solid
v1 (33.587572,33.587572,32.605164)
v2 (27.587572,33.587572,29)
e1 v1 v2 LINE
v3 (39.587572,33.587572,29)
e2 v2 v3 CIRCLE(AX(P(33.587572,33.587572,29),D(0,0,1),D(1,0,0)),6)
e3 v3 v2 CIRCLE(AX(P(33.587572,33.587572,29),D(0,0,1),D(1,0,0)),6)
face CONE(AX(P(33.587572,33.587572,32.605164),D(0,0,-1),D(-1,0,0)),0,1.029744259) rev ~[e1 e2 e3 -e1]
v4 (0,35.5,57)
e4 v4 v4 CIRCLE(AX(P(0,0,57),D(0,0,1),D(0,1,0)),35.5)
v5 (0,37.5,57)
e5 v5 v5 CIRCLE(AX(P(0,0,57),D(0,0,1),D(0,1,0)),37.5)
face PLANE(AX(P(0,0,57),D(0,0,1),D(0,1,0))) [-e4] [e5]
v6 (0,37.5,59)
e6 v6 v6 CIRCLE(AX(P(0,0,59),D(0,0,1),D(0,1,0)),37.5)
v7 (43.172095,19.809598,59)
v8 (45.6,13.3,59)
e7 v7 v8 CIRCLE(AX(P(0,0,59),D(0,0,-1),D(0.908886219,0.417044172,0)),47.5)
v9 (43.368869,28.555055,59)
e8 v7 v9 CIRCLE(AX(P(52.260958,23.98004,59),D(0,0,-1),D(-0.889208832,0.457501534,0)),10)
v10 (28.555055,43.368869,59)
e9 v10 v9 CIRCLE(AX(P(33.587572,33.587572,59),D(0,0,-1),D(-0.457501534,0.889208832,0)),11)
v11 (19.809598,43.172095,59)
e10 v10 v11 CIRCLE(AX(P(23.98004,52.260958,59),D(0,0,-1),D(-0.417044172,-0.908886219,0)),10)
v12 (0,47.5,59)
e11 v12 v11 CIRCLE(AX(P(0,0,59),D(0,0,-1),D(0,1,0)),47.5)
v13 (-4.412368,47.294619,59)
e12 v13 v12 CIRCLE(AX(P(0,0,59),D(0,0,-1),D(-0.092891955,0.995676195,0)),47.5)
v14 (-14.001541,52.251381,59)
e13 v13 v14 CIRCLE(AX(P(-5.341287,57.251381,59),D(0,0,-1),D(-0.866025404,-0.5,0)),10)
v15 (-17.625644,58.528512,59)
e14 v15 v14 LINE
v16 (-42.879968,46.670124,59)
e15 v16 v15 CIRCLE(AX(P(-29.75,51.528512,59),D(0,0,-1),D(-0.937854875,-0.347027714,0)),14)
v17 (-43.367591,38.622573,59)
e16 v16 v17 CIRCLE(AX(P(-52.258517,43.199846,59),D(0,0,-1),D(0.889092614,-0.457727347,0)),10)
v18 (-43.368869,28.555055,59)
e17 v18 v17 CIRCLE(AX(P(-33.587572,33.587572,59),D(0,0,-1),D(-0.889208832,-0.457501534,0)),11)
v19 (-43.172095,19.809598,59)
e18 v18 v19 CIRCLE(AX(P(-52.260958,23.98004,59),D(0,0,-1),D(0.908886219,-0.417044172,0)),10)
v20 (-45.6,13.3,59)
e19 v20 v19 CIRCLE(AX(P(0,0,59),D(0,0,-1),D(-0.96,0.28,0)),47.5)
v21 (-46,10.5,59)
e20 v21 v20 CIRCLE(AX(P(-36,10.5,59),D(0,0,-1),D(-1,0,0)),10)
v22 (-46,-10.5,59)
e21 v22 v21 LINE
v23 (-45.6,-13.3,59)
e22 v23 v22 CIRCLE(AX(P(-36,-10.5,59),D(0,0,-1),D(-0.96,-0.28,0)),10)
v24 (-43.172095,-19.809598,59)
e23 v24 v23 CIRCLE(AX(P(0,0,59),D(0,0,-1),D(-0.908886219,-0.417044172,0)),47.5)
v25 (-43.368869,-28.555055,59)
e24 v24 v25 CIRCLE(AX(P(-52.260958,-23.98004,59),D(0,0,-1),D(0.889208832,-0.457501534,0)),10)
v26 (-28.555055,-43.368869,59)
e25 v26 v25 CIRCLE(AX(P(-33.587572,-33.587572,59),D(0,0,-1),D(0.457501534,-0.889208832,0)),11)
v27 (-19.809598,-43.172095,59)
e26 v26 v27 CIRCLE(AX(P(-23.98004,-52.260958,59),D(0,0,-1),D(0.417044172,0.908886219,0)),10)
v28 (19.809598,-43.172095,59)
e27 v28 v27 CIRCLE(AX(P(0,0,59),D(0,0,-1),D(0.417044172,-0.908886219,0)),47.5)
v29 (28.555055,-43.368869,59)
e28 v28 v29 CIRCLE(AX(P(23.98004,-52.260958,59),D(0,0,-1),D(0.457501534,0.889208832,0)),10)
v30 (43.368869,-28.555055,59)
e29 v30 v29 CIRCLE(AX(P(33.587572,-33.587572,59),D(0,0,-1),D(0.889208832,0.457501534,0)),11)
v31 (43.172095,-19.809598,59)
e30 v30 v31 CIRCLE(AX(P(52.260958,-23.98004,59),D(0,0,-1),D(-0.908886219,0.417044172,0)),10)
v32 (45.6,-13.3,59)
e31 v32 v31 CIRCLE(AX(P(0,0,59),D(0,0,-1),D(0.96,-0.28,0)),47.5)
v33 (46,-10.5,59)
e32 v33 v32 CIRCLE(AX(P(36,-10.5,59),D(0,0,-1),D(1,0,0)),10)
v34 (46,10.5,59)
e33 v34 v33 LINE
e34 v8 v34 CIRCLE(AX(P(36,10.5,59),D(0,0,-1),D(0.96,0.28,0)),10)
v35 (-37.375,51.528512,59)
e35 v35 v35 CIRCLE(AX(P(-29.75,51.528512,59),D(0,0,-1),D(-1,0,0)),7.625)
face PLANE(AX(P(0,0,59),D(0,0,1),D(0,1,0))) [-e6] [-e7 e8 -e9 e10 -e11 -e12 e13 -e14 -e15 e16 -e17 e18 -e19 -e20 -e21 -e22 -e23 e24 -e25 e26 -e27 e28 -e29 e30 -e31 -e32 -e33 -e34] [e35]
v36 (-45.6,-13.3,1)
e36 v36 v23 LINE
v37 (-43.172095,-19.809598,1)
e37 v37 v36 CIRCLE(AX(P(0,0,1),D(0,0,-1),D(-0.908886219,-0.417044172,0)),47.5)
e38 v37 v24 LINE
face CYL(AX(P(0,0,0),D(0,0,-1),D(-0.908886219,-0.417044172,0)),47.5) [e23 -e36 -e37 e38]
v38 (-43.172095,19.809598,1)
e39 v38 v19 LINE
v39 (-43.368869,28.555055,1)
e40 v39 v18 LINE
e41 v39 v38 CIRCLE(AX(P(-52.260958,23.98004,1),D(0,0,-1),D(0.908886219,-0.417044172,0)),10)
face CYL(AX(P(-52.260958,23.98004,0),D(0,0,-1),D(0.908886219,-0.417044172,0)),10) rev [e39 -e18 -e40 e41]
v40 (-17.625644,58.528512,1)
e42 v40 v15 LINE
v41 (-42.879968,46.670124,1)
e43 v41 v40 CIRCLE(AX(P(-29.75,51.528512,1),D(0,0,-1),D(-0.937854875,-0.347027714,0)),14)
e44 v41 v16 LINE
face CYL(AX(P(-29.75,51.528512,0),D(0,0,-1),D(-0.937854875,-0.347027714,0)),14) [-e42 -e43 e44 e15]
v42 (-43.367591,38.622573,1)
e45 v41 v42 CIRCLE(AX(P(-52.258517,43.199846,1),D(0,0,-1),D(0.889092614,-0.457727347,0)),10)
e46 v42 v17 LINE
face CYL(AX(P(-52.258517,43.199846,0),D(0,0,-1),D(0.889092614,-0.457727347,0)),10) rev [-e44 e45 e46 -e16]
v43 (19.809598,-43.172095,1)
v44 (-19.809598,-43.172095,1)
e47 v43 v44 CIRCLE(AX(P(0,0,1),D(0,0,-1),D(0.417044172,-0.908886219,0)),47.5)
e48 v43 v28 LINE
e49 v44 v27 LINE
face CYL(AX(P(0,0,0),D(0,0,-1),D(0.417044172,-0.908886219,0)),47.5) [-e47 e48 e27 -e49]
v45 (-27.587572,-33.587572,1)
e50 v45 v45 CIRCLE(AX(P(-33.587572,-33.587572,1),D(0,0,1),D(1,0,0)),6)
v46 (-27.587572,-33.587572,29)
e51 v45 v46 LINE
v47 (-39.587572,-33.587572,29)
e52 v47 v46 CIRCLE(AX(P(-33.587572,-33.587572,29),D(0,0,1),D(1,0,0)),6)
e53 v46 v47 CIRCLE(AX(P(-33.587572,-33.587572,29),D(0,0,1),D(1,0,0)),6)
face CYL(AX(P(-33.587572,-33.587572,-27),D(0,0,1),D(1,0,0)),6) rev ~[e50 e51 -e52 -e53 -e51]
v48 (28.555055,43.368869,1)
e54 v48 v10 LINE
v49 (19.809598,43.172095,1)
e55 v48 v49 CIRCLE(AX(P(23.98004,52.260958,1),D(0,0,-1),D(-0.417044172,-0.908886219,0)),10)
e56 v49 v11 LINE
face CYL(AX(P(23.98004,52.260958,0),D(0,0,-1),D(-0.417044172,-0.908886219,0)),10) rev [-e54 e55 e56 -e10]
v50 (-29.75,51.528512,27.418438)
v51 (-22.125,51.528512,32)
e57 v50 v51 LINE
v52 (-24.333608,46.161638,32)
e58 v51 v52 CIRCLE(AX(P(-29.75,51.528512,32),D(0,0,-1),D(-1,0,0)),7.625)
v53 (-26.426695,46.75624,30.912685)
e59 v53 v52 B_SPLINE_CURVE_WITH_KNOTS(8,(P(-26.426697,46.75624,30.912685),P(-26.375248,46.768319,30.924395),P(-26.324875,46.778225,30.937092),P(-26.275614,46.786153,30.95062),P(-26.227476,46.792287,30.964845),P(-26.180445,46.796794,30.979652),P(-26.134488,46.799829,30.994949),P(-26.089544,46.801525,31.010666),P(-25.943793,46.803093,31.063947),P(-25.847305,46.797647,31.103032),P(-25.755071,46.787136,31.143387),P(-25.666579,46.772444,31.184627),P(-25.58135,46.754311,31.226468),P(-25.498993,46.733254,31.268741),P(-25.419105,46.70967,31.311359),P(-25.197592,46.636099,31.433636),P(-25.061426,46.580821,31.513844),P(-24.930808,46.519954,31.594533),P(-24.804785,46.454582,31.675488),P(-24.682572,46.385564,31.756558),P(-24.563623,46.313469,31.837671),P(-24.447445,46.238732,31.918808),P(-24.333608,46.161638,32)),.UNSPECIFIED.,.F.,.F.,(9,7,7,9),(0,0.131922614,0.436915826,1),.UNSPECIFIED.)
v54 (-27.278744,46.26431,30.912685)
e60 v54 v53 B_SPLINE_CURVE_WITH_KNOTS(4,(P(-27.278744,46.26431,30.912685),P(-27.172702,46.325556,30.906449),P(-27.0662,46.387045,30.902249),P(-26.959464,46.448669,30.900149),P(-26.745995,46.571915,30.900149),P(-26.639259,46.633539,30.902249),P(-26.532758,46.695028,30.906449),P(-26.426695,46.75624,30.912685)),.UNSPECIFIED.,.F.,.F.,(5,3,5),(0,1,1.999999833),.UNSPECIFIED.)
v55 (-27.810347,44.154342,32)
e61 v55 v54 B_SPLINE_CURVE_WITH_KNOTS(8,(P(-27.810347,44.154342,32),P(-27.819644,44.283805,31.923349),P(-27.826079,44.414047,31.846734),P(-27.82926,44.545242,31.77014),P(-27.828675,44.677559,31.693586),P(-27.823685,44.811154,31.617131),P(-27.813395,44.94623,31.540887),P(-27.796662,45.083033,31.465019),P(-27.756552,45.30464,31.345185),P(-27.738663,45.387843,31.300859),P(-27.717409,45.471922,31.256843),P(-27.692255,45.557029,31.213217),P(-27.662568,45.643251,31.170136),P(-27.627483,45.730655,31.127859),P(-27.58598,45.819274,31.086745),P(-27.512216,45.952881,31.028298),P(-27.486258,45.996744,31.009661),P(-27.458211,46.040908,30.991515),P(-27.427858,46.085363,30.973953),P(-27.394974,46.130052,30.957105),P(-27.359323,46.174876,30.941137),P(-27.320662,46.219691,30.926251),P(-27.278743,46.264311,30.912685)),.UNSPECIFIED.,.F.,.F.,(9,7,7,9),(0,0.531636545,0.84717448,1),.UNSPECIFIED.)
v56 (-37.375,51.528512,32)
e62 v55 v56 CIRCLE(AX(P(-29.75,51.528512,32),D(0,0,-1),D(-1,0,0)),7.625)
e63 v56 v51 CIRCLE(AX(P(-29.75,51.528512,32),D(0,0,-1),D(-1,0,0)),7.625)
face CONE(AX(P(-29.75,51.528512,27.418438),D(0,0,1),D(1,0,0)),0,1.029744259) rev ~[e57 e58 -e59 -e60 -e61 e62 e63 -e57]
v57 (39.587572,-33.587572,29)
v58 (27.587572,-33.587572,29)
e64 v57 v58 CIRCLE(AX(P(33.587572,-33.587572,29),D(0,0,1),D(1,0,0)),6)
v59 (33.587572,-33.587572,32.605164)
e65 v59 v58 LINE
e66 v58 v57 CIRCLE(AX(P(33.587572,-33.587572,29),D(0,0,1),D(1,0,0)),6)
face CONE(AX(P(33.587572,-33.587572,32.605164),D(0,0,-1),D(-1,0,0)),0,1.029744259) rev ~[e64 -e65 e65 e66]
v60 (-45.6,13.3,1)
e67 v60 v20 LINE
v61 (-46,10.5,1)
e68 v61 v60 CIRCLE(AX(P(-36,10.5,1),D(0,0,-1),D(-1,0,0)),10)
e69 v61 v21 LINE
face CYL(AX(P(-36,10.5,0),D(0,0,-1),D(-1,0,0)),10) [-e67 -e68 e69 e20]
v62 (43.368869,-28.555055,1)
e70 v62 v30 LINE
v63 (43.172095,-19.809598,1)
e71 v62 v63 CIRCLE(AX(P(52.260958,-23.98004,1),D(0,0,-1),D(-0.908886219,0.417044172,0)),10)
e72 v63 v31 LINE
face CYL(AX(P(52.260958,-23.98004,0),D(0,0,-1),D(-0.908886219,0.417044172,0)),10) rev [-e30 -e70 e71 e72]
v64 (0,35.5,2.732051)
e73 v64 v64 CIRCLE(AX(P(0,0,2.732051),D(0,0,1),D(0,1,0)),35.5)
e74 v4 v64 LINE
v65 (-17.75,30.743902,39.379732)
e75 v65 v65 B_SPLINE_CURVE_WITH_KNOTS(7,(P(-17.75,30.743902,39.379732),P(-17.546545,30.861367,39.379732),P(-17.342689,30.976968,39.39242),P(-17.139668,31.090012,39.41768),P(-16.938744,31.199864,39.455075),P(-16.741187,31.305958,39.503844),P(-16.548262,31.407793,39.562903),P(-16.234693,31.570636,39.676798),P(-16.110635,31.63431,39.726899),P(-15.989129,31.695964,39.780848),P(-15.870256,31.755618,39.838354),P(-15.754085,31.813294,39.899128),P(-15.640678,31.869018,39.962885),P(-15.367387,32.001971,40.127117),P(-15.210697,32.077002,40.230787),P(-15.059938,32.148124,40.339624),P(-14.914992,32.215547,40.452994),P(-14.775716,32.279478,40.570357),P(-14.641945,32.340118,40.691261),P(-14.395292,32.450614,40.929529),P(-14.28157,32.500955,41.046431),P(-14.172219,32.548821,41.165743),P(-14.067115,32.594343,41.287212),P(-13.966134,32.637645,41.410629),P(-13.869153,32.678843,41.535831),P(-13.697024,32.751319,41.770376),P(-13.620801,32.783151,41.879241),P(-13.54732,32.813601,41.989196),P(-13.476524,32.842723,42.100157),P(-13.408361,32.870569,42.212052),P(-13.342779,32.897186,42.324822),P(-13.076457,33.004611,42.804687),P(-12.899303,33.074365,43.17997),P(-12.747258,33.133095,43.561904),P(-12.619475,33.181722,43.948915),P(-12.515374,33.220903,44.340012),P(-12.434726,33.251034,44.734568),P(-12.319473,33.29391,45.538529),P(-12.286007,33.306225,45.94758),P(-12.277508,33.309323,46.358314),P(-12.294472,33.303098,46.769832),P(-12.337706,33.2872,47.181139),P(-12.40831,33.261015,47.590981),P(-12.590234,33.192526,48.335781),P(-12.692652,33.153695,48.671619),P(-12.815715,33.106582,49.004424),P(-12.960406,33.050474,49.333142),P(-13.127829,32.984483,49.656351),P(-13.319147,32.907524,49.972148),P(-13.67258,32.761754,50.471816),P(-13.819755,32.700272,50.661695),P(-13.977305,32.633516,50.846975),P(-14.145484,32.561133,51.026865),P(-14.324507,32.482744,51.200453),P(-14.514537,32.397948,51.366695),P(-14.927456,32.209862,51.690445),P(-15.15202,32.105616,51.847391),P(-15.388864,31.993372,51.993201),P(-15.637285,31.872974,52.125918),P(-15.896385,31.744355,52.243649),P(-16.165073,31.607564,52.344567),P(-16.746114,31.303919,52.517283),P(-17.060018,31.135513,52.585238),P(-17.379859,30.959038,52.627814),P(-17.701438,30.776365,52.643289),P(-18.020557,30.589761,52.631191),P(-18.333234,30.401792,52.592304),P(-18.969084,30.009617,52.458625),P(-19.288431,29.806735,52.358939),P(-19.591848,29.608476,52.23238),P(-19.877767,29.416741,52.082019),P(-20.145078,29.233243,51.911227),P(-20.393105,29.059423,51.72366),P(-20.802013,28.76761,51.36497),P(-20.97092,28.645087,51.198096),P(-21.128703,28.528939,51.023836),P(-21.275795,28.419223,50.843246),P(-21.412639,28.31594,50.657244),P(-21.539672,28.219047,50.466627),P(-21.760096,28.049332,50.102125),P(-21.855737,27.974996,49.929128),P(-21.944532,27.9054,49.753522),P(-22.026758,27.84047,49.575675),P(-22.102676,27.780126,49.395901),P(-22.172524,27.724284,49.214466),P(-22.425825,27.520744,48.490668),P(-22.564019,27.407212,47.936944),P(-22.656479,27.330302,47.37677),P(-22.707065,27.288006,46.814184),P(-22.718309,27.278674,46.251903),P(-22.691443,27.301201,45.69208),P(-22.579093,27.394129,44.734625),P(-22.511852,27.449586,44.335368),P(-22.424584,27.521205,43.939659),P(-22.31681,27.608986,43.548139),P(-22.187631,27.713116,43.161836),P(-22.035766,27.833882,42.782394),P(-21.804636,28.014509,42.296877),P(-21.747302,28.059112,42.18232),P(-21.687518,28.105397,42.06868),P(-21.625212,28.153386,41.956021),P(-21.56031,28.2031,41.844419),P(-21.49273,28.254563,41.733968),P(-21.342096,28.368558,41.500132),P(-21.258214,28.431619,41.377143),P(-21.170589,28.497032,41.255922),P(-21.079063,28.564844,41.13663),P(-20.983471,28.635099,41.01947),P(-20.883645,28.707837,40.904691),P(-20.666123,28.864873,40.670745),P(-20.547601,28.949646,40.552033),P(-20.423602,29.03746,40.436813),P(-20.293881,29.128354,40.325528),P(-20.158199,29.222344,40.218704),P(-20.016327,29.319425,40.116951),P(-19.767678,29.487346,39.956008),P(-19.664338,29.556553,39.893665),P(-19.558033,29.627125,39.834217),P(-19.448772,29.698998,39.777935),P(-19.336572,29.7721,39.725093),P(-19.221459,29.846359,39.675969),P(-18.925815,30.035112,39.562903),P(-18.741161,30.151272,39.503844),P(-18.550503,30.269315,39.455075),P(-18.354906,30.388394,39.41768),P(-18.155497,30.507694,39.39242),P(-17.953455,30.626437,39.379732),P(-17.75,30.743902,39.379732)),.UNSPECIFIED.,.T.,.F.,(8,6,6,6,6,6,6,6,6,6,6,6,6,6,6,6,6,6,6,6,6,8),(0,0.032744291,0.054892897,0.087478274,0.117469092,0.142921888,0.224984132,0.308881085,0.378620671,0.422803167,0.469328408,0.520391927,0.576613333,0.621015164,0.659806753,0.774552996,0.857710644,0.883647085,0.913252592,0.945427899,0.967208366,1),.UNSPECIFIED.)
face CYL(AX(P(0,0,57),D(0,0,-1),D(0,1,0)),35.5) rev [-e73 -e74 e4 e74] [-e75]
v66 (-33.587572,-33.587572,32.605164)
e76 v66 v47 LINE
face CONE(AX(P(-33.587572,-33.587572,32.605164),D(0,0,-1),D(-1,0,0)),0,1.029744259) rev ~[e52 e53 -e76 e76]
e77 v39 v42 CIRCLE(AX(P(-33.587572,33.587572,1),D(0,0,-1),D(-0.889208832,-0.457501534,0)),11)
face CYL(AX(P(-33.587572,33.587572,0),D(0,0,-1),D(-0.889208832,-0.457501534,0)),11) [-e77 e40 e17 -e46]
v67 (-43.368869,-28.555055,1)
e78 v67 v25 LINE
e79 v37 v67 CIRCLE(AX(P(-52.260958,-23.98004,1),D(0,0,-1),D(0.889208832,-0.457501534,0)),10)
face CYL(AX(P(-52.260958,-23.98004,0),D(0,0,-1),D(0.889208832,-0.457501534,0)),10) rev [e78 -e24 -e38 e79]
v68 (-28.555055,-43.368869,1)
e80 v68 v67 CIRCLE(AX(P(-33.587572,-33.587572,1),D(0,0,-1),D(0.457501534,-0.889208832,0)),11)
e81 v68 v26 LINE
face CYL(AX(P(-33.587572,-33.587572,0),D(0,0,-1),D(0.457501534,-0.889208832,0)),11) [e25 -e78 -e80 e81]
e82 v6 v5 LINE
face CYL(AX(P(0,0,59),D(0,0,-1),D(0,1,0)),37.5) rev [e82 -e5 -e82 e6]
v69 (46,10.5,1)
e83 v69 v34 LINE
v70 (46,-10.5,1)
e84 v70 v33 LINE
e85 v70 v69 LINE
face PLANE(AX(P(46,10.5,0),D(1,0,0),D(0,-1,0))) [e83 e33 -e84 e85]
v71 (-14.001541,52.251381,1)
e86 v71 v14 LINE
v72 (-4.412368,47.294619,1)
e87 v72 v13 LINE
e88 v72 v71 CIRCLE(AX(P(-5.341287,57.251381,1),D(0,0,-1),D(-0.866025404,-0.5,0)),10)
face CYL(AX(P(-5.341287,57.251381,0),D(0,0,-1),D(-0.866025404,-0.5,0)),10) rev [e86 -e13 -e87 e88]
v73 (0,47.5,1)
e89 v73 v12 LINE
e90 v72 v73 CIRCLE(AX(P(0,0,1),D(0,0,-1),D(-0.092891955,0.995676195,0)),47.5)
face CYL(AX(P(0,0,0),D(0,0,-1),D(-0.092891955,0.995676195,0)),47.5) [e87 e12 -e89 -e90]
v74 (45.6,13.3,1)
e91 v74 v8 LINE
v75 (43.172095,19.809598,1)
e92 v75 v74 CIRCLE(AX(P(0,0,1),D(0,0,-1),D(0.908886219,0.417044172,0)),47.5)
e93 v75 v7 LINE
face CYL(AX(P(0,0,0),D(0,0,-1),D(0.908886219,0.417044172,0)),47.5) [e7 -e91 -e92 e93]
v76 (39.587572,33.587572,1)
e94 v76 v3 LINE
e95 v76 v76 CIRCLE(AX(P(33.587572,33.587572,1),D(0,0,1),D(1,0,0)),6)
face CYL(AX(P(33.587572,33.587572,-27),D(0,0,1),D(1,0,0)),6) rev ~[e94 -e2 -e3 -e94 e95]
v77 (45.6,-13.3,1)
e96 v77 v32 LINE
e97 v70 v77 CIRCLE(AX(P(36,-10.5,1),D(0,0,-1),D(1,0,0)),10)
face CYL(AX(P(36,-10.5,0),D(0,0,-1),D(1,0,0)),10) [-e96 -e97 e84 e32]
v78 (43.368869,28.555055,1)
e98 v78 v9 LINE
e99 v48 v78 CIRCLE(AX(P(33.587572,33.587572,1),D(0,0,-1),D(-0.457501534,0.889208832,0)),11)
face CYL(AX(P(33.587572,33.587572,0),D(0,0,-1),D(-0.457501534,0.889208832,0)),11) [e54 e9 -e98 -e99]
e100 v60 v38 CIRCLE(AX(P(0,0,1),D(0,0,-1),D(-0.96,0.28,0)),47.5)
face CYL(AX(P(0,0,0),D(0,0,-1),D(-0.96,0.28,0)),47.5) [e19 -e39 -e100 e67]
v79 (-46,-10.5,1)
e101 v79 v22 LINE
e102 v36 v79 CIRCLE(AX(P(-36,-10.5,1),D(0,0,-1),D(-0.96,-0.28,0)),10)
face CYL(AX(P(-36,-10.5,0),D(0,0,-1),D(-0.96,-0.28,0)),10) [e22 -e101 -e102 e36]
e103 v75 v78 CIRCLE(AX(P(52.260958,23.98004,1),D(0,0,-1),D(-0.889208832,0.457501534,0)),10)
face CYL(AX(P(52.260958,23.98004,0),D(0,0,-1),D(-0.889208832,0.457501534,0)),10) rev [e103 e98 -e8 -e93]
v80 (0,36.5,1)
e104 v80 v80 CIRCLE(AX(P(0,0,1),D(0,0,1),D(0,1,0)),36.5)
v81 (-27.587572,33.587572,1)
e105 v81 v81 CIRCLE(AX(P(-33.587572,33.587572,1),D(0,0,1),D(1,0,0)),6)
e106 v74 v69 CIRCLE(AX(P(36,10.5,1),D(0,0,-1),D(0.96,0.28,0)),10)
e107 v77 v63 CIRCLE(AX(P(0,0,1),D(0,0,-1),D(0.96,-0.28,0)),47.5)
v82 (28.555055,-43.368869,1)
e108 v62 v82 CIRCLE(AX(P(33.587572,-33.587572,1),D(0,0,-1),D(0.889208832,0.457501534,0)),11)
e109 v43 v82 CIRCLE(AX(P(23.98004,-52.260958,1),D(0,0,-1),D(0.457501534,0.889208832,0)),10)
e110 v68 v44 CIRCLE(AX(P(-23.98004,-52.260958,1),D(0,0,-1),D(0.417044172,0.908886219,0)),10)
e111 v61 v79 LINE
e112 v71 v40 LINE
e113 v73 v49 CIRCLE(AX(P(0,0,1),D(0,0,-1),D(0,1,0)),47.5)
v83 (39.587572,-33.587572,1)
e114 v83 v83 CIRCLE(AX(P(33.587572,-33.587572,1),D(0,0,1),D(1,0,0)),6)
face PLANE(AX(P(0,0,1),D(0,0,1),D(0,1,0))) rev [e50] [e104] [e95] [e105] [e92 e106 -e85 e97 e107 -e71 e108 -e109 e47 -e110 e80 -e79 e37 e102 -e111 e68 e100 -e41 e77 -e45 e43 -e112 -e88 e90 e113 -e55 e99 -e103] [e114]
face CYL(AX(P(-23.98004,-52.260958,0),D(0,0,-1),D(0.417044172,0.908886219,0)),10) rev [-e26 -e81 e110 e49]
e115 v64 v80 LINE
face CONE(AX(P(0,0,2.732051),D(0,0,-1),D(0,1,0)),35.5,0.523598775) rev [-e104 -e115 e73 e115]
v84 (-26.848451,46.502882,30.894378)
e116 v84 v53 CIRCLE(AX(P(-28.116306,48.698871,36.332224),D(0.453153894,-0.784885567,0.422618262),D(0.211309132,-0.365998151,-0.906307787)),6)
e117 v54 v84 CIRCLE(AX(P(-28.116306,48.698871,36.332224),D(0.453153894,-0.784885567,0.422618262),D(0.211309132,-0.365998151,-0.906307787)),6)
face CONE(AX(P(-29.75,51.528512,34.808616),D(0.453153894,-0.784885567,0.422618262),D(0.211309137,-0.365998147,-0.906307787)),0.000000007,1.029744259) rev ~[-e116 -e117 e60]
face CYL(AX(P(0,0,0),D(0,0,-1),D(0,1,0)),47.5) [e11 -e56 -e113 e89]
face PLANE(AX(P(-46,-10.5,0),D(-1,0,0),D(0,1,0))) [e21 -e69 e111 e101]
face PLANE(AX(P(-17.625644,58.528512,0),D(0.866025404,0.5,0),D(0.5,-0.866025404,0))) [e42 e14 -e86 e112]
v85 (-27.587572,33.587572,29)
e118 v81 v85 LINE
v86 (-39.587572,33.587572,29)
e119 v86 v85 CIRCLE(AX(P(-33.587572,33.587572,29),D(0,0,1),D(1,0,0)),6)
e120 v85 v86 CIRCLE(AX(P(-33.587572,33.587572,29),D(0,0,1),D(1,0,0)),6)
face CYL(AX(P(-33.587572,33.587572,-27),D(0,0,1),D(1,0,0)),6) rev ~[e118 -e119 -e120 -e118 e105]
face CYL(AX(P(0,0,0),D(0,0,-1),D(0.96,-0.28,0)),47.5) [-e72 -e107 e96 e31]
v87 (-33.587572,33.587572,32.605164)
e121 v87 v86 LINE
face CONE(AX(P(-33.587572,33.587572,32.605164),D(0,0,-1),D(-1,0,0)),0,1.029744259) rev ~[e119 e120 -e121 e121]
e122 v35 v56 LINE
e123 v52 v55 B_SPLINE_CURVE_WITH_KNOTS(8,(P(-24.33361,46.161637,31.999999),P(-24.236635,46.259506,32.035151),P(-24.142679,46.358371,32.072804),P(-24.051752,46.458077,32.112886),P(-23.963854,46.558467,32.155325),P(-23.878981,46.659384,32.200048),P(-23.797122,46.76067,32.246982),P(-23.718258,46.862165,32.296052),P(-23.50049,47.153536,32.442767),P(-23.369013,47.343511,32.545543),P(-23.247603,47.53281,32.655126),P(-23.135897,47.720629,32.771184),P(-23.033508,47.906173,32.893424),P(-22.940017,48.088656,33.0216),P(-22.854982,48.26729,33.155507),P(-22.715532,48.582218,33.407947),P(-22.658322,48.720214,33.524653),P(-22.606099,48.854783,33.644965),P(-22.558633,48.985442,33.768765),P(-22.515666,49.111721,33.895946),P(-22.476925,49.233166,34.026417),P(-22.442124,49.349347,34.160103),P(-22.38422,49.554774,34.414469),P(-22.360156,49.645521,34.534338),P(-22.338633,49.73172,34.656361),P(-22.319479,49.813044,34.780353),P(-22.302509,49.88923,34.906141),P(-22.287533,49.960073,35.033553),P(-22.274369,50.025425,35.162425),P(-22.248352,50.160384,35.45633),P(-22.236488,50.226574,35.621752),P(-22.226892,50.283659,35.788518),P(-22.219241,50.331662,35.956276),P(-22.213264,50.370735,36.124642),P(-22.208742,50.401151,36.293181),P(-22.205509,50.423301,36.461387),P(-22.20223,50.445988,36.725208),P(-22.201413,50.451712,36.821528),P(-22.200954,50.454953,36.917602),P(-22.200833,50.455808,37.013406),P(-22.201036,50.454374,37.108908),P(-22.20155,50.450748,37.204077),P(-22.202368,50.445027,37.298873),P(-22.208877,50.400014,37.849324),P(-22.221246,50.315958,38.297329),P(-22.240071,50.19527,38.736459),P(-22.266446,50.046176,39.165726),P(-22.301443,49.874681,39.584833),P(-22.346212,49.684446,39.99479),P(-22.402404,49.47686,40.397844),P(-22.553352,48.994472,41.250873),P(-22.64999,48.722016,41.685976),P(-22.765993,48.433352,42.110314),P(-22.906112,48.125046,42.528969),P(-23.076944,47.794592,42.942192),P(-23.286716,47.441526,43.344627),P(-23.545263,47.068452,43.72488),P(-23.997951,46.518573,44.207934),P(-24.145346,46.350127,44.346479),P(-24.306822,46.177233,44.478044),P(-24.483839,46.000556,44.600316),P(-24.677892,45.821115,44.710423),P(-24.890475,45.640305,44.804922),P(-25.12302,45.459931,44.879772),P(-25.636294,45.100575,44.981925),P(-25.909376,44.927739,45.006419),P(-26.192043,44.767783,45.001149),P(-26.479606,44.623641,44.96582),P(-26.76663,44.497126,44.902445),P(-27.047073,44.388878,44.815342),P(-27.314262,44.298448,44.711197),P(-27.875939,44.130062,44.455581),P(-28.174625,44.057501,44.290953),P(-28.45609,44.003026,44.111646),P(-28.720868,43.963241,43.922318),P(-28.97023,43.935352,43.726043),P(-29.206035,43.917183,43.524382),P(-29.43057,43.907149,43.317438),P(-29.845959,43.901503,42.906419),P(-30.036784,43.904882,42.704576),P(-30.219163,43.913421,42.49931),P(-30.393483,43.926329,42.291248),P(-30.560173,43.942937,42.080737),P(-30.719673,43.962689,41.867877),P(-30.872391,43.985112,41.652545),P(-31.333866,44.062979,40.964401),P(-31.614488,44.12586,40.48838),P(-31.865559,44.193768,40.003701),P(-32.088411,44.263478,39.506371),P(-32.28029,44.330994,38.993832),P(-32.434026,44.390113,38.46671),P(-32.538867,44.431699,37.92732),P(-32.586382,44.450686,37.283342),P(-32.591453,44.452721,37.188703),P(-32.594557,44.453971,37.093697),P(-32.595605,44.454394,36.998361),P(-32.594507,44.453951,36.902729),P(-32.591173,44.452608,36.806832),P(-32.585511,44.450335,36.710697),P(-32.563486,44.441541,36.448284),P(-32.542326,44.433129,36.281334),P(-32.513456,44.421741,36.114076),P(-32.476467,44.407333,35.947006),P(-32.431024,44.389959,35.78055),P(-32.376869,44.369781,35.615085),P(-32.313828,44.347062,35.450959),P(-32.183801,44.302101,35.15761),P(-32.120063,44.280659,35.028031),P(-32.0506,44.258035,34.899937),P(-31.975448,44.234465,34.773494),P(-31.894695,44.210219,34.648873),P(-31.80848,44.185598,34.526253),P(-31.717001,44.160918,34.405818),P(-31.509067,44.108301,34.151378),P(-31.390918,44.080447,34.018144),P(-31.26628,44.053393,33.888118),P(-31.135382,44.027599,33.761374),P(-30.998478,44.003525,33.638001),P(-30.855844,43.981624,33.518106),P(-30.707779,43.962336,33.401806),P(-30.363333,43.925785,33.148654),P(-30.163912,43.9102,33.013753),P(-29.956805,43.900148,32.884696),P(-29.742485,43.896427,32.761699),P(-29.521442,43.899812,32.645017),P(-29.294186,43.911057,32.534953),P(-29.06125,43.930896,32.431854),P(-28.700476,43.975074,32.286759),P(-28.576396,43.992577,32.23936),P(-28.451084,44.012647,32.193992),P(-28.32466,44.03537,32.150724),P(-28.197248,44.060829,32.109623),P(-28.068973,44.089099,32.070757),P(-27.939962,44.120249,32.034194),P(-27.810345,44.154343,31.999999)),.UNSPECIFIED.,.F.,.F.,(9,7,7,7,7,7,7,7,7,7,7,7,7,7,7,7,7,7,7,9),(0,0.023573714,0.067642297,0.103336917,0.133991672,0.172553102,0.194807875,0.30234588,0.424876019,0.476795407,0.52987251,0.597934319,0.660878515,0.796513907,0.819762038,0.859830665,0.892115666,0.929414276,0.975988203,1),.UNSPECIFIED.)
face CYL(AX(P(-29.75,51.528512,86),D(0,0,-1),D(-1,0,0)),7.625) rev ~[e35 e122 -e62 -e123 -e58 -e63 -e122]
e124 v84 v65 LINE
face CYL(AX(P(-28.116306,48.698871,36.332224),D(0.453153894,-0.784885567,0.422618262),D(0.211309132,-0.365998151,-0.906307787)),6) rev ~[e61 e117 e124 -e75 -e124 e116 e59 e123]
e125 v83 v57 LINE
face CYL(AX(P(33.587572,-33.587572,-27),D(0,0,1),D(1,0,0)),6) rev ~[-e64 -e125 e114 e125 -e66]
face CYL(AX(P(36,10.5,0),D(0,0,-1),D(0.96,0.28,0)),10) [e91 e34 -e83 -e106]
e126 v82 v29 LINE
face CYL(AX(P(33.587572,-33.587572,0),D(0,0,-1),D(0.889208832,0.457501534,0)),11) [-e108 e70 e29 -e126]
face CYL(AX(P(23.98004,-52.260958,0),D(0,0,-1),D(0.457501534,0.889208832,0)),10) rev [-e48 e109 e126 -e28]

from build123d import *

# Parameters (mm, degrees)
SKETCH1_R              = 31.5
BASE_EXTRUDE_DEPTH     = 60
F_4_STK_M14_D          = 12
F_4_STK_M14_DEPTH      = 28
F_4_STK_M14_TIP        = 3.605163714
F_3_8_RG_OLIEHUL_D     = 15.25
F_3_8_RG_OLIEHUL_DEPTH = 27
F_3_8_RG_OLIEHUL_TIP   = 4.58156222


with BuildPart() as part:
    # Sketch1 → Base-Extrude (new body)
    with BuildSketch(Plane.XY):
        with BuildLine():
            Line((46, 10.5), (46, -10.5))
            ThreePointArc((46, -10.5), (45.899494937, -11.914213562), (45.6, -13.3))
            ThreePointArc((45.6, -13.3), (44.505223817, -16.599248568), (43.172095387, -19.809598175))
            ThreePointArc((43.172095387, -19.809598175), (42.263487891, -24.204984204), (43.368869256, -28.555055234))
            ThreePointArc((43.368869256, -28.555055234), (41.365746699, -41.365746699), (28.555055234, -43.368869256))
            ThreePointArc((28.555055234, -43.368869256), (24.204984204, -42.263487891), (19.809598175, -43.172095387))
            ThreePointArc((19.809598175, -43.172095387), (0, -47.5), (-19.809598175, -43.172095387))
            ThreePointArc((-19.809598175, -43.172095387), (-24.204984204, -42.263487891), (-28.555055234, -43.368869256))
            ThreePointArc((-28.555055234, -43.368869256), (-41.365746699, -41.365746699), (-43.368869256, -28.555055234))
            ThreePointArc((-43.368869256, -28.555055234), (-42.263487891, -24.204984204), (-43.172095387, -19.809598175))
            ThreePointArc((-43.172095387, -19.809598175), (-44.505223817, -16.599248568), (-45.6, -13.3))
            ThreePointArc((-45.6, -13.3), (-45.899494937, -11.914213562), (-46, -10.5))
            Line((-46, -10.5), (-46, 10.5))
            ThreePointArc((-46, 10.5), (-45.899494937, 11.914213562), (-45.6, 13.3))
            ThreePointArc((-45.6, 13.3), (-44.505223817, 16.599248568), (-43.172095387, 19.809598175))
            ThreePointArc((-43.172095387, 19.809598175), (-42.263487891, 24.204984204), (-43.368869256, 28.555055234))
            ThreePointArc((-43.368869256, 28.555055234), (-44.587572018, 33.588968915), (-43.367590856, 38.622572926))
            ThreePointArc((-43.367590856, 38.622572926), (-42.276823958, 42.595028926), (-42.879968246, 46.670123534))
            ThreePointArc((-42.879968246, 46.670123534), (-35.700475242, 64.200995275), (-17.625644347, 58.528511525))
            Line((-17.625644347, 58.528511525), (-14.001541461, 52.251381194))
            ThreePointArc((-14.001541461, 52.251381194), (-9.933210275, 48.36801221), (-4.412367871, 47.294619248))
            ThreePointArc((-4.412367871, 47.294619248), (-2.208572587, 47.448627031), (0, 47.5))
            ThreePointArc((0, 47.5), (10.138428604, 46.405412028), (19.809598175, 43.172095387))
            ThreePointArc((19.809598175, 43.172095387), (24.204984204, 42.263487891), (28.555055234, 43.368869256))
            ThreePointArc((28.555055234, 43.368869256), (41.365746699, 41.365746699), (43.368869256, 28.555055234))
            ThreePointArc((43.368869256, 28.555055234), (42.263487891, 24.204984204), (43.172095387, 19.809598175))
            ThreePointArc((43.172095387, 19.809598175), (44.505223817, 16.599248568), (45.6, 13.3))
            ThreePointArc((45.6, 13.3), (45.899494937, 11.914213562), (46, 10.5))
        make_face()
        Circle(SKETCH1_R, mode=Mode.SUBTRACT)
    extrude(amount=BASE_EXTRUDE_DEPTH)

    # Sketch2 → Indv uddrejning (revolve, cut)
    with BuildSketch(Plane(origin=(0, 0, 0), x_dir=(0, 0, -1), z_dir=(1, 0, 0))):
        Polygon((0, 90), (0, 0), (-2.72299253, 0), (-60, 0), (-60, 90), (-59, 90), (-59, 37.5), (-57, 37.5), (-57, 35.5), (-2.732050808, 35.5), (-1, 36.5), (-1, 90), align=None)
    revolve(axis=Axis((0, 0, 0), (0, 0, 1)), mode=Mode.SUBTRACT)

    # 4 stk M14
    with Locations(Plane(origin=(0, 0, 1), x_dir=(-1, 0, 0), z_dir=(0, 0, -1))):
        with Locations((-33.587572106, 33.587572106), (33.587572106, 33.587572106), (-33.587572106, -33.587572106), (33.587572106, -33.587572106)):
            Hole(F_4_STK_M14_D / 2, depth=F_4_STK_M14_DEPTH)
            with Locations((0, 0, -(F_4_STK_M14_DEPTH + F_4_STK_M14_TIP / 2))):  # 118° drill point
                Cone(0, F_4_STK_M14_D / 2, F_4_STK_M14_TIP, mode=Mode.SUBTRACT)

    # 3/8" RG oliehul
    with Locations(Plane.XY.offset(59)):
        with Locations((-29.75, 51.528511525)):
            Hole(F_3_8_RG_OLIEHUL_D / 2, depth=F_3_8_RG_OLIEHUL_DEPTH)
            with Locations((0, 0, -(F_3_8_RG_OLIEHUL_DEPTH + F_3_8_RG_OLIEHUL_TIP / 2))):  # 118° drill point
                Cone(0, F_3_8_RG_OLIEHUL_D / 2, F_3_8_RG_OLIEHUL_TIP, mode=Mode.SUBTRACT)

    # Sketch11 → ø12 olietilførsel (revolve, cut)
    with BuildSketch(Plane(origin=(0, 0, 0), x_dir=(0, 0, -1), z_dir=(0.866025404, 0.5, 0))):
        Polygon((-34.808616204, 59.5), (-30.894377504, 53.696902482), (-81.608568913, -55.060031963), (-87.046415635, -52.524322392), align=None)
    revolve(axis=Axis((-29.75, 51.528511525, 34.808616204), (0.453153894, -0.784885567, 0.422618262)), mode=Mode.SUBTRACT)


solid = part.part
